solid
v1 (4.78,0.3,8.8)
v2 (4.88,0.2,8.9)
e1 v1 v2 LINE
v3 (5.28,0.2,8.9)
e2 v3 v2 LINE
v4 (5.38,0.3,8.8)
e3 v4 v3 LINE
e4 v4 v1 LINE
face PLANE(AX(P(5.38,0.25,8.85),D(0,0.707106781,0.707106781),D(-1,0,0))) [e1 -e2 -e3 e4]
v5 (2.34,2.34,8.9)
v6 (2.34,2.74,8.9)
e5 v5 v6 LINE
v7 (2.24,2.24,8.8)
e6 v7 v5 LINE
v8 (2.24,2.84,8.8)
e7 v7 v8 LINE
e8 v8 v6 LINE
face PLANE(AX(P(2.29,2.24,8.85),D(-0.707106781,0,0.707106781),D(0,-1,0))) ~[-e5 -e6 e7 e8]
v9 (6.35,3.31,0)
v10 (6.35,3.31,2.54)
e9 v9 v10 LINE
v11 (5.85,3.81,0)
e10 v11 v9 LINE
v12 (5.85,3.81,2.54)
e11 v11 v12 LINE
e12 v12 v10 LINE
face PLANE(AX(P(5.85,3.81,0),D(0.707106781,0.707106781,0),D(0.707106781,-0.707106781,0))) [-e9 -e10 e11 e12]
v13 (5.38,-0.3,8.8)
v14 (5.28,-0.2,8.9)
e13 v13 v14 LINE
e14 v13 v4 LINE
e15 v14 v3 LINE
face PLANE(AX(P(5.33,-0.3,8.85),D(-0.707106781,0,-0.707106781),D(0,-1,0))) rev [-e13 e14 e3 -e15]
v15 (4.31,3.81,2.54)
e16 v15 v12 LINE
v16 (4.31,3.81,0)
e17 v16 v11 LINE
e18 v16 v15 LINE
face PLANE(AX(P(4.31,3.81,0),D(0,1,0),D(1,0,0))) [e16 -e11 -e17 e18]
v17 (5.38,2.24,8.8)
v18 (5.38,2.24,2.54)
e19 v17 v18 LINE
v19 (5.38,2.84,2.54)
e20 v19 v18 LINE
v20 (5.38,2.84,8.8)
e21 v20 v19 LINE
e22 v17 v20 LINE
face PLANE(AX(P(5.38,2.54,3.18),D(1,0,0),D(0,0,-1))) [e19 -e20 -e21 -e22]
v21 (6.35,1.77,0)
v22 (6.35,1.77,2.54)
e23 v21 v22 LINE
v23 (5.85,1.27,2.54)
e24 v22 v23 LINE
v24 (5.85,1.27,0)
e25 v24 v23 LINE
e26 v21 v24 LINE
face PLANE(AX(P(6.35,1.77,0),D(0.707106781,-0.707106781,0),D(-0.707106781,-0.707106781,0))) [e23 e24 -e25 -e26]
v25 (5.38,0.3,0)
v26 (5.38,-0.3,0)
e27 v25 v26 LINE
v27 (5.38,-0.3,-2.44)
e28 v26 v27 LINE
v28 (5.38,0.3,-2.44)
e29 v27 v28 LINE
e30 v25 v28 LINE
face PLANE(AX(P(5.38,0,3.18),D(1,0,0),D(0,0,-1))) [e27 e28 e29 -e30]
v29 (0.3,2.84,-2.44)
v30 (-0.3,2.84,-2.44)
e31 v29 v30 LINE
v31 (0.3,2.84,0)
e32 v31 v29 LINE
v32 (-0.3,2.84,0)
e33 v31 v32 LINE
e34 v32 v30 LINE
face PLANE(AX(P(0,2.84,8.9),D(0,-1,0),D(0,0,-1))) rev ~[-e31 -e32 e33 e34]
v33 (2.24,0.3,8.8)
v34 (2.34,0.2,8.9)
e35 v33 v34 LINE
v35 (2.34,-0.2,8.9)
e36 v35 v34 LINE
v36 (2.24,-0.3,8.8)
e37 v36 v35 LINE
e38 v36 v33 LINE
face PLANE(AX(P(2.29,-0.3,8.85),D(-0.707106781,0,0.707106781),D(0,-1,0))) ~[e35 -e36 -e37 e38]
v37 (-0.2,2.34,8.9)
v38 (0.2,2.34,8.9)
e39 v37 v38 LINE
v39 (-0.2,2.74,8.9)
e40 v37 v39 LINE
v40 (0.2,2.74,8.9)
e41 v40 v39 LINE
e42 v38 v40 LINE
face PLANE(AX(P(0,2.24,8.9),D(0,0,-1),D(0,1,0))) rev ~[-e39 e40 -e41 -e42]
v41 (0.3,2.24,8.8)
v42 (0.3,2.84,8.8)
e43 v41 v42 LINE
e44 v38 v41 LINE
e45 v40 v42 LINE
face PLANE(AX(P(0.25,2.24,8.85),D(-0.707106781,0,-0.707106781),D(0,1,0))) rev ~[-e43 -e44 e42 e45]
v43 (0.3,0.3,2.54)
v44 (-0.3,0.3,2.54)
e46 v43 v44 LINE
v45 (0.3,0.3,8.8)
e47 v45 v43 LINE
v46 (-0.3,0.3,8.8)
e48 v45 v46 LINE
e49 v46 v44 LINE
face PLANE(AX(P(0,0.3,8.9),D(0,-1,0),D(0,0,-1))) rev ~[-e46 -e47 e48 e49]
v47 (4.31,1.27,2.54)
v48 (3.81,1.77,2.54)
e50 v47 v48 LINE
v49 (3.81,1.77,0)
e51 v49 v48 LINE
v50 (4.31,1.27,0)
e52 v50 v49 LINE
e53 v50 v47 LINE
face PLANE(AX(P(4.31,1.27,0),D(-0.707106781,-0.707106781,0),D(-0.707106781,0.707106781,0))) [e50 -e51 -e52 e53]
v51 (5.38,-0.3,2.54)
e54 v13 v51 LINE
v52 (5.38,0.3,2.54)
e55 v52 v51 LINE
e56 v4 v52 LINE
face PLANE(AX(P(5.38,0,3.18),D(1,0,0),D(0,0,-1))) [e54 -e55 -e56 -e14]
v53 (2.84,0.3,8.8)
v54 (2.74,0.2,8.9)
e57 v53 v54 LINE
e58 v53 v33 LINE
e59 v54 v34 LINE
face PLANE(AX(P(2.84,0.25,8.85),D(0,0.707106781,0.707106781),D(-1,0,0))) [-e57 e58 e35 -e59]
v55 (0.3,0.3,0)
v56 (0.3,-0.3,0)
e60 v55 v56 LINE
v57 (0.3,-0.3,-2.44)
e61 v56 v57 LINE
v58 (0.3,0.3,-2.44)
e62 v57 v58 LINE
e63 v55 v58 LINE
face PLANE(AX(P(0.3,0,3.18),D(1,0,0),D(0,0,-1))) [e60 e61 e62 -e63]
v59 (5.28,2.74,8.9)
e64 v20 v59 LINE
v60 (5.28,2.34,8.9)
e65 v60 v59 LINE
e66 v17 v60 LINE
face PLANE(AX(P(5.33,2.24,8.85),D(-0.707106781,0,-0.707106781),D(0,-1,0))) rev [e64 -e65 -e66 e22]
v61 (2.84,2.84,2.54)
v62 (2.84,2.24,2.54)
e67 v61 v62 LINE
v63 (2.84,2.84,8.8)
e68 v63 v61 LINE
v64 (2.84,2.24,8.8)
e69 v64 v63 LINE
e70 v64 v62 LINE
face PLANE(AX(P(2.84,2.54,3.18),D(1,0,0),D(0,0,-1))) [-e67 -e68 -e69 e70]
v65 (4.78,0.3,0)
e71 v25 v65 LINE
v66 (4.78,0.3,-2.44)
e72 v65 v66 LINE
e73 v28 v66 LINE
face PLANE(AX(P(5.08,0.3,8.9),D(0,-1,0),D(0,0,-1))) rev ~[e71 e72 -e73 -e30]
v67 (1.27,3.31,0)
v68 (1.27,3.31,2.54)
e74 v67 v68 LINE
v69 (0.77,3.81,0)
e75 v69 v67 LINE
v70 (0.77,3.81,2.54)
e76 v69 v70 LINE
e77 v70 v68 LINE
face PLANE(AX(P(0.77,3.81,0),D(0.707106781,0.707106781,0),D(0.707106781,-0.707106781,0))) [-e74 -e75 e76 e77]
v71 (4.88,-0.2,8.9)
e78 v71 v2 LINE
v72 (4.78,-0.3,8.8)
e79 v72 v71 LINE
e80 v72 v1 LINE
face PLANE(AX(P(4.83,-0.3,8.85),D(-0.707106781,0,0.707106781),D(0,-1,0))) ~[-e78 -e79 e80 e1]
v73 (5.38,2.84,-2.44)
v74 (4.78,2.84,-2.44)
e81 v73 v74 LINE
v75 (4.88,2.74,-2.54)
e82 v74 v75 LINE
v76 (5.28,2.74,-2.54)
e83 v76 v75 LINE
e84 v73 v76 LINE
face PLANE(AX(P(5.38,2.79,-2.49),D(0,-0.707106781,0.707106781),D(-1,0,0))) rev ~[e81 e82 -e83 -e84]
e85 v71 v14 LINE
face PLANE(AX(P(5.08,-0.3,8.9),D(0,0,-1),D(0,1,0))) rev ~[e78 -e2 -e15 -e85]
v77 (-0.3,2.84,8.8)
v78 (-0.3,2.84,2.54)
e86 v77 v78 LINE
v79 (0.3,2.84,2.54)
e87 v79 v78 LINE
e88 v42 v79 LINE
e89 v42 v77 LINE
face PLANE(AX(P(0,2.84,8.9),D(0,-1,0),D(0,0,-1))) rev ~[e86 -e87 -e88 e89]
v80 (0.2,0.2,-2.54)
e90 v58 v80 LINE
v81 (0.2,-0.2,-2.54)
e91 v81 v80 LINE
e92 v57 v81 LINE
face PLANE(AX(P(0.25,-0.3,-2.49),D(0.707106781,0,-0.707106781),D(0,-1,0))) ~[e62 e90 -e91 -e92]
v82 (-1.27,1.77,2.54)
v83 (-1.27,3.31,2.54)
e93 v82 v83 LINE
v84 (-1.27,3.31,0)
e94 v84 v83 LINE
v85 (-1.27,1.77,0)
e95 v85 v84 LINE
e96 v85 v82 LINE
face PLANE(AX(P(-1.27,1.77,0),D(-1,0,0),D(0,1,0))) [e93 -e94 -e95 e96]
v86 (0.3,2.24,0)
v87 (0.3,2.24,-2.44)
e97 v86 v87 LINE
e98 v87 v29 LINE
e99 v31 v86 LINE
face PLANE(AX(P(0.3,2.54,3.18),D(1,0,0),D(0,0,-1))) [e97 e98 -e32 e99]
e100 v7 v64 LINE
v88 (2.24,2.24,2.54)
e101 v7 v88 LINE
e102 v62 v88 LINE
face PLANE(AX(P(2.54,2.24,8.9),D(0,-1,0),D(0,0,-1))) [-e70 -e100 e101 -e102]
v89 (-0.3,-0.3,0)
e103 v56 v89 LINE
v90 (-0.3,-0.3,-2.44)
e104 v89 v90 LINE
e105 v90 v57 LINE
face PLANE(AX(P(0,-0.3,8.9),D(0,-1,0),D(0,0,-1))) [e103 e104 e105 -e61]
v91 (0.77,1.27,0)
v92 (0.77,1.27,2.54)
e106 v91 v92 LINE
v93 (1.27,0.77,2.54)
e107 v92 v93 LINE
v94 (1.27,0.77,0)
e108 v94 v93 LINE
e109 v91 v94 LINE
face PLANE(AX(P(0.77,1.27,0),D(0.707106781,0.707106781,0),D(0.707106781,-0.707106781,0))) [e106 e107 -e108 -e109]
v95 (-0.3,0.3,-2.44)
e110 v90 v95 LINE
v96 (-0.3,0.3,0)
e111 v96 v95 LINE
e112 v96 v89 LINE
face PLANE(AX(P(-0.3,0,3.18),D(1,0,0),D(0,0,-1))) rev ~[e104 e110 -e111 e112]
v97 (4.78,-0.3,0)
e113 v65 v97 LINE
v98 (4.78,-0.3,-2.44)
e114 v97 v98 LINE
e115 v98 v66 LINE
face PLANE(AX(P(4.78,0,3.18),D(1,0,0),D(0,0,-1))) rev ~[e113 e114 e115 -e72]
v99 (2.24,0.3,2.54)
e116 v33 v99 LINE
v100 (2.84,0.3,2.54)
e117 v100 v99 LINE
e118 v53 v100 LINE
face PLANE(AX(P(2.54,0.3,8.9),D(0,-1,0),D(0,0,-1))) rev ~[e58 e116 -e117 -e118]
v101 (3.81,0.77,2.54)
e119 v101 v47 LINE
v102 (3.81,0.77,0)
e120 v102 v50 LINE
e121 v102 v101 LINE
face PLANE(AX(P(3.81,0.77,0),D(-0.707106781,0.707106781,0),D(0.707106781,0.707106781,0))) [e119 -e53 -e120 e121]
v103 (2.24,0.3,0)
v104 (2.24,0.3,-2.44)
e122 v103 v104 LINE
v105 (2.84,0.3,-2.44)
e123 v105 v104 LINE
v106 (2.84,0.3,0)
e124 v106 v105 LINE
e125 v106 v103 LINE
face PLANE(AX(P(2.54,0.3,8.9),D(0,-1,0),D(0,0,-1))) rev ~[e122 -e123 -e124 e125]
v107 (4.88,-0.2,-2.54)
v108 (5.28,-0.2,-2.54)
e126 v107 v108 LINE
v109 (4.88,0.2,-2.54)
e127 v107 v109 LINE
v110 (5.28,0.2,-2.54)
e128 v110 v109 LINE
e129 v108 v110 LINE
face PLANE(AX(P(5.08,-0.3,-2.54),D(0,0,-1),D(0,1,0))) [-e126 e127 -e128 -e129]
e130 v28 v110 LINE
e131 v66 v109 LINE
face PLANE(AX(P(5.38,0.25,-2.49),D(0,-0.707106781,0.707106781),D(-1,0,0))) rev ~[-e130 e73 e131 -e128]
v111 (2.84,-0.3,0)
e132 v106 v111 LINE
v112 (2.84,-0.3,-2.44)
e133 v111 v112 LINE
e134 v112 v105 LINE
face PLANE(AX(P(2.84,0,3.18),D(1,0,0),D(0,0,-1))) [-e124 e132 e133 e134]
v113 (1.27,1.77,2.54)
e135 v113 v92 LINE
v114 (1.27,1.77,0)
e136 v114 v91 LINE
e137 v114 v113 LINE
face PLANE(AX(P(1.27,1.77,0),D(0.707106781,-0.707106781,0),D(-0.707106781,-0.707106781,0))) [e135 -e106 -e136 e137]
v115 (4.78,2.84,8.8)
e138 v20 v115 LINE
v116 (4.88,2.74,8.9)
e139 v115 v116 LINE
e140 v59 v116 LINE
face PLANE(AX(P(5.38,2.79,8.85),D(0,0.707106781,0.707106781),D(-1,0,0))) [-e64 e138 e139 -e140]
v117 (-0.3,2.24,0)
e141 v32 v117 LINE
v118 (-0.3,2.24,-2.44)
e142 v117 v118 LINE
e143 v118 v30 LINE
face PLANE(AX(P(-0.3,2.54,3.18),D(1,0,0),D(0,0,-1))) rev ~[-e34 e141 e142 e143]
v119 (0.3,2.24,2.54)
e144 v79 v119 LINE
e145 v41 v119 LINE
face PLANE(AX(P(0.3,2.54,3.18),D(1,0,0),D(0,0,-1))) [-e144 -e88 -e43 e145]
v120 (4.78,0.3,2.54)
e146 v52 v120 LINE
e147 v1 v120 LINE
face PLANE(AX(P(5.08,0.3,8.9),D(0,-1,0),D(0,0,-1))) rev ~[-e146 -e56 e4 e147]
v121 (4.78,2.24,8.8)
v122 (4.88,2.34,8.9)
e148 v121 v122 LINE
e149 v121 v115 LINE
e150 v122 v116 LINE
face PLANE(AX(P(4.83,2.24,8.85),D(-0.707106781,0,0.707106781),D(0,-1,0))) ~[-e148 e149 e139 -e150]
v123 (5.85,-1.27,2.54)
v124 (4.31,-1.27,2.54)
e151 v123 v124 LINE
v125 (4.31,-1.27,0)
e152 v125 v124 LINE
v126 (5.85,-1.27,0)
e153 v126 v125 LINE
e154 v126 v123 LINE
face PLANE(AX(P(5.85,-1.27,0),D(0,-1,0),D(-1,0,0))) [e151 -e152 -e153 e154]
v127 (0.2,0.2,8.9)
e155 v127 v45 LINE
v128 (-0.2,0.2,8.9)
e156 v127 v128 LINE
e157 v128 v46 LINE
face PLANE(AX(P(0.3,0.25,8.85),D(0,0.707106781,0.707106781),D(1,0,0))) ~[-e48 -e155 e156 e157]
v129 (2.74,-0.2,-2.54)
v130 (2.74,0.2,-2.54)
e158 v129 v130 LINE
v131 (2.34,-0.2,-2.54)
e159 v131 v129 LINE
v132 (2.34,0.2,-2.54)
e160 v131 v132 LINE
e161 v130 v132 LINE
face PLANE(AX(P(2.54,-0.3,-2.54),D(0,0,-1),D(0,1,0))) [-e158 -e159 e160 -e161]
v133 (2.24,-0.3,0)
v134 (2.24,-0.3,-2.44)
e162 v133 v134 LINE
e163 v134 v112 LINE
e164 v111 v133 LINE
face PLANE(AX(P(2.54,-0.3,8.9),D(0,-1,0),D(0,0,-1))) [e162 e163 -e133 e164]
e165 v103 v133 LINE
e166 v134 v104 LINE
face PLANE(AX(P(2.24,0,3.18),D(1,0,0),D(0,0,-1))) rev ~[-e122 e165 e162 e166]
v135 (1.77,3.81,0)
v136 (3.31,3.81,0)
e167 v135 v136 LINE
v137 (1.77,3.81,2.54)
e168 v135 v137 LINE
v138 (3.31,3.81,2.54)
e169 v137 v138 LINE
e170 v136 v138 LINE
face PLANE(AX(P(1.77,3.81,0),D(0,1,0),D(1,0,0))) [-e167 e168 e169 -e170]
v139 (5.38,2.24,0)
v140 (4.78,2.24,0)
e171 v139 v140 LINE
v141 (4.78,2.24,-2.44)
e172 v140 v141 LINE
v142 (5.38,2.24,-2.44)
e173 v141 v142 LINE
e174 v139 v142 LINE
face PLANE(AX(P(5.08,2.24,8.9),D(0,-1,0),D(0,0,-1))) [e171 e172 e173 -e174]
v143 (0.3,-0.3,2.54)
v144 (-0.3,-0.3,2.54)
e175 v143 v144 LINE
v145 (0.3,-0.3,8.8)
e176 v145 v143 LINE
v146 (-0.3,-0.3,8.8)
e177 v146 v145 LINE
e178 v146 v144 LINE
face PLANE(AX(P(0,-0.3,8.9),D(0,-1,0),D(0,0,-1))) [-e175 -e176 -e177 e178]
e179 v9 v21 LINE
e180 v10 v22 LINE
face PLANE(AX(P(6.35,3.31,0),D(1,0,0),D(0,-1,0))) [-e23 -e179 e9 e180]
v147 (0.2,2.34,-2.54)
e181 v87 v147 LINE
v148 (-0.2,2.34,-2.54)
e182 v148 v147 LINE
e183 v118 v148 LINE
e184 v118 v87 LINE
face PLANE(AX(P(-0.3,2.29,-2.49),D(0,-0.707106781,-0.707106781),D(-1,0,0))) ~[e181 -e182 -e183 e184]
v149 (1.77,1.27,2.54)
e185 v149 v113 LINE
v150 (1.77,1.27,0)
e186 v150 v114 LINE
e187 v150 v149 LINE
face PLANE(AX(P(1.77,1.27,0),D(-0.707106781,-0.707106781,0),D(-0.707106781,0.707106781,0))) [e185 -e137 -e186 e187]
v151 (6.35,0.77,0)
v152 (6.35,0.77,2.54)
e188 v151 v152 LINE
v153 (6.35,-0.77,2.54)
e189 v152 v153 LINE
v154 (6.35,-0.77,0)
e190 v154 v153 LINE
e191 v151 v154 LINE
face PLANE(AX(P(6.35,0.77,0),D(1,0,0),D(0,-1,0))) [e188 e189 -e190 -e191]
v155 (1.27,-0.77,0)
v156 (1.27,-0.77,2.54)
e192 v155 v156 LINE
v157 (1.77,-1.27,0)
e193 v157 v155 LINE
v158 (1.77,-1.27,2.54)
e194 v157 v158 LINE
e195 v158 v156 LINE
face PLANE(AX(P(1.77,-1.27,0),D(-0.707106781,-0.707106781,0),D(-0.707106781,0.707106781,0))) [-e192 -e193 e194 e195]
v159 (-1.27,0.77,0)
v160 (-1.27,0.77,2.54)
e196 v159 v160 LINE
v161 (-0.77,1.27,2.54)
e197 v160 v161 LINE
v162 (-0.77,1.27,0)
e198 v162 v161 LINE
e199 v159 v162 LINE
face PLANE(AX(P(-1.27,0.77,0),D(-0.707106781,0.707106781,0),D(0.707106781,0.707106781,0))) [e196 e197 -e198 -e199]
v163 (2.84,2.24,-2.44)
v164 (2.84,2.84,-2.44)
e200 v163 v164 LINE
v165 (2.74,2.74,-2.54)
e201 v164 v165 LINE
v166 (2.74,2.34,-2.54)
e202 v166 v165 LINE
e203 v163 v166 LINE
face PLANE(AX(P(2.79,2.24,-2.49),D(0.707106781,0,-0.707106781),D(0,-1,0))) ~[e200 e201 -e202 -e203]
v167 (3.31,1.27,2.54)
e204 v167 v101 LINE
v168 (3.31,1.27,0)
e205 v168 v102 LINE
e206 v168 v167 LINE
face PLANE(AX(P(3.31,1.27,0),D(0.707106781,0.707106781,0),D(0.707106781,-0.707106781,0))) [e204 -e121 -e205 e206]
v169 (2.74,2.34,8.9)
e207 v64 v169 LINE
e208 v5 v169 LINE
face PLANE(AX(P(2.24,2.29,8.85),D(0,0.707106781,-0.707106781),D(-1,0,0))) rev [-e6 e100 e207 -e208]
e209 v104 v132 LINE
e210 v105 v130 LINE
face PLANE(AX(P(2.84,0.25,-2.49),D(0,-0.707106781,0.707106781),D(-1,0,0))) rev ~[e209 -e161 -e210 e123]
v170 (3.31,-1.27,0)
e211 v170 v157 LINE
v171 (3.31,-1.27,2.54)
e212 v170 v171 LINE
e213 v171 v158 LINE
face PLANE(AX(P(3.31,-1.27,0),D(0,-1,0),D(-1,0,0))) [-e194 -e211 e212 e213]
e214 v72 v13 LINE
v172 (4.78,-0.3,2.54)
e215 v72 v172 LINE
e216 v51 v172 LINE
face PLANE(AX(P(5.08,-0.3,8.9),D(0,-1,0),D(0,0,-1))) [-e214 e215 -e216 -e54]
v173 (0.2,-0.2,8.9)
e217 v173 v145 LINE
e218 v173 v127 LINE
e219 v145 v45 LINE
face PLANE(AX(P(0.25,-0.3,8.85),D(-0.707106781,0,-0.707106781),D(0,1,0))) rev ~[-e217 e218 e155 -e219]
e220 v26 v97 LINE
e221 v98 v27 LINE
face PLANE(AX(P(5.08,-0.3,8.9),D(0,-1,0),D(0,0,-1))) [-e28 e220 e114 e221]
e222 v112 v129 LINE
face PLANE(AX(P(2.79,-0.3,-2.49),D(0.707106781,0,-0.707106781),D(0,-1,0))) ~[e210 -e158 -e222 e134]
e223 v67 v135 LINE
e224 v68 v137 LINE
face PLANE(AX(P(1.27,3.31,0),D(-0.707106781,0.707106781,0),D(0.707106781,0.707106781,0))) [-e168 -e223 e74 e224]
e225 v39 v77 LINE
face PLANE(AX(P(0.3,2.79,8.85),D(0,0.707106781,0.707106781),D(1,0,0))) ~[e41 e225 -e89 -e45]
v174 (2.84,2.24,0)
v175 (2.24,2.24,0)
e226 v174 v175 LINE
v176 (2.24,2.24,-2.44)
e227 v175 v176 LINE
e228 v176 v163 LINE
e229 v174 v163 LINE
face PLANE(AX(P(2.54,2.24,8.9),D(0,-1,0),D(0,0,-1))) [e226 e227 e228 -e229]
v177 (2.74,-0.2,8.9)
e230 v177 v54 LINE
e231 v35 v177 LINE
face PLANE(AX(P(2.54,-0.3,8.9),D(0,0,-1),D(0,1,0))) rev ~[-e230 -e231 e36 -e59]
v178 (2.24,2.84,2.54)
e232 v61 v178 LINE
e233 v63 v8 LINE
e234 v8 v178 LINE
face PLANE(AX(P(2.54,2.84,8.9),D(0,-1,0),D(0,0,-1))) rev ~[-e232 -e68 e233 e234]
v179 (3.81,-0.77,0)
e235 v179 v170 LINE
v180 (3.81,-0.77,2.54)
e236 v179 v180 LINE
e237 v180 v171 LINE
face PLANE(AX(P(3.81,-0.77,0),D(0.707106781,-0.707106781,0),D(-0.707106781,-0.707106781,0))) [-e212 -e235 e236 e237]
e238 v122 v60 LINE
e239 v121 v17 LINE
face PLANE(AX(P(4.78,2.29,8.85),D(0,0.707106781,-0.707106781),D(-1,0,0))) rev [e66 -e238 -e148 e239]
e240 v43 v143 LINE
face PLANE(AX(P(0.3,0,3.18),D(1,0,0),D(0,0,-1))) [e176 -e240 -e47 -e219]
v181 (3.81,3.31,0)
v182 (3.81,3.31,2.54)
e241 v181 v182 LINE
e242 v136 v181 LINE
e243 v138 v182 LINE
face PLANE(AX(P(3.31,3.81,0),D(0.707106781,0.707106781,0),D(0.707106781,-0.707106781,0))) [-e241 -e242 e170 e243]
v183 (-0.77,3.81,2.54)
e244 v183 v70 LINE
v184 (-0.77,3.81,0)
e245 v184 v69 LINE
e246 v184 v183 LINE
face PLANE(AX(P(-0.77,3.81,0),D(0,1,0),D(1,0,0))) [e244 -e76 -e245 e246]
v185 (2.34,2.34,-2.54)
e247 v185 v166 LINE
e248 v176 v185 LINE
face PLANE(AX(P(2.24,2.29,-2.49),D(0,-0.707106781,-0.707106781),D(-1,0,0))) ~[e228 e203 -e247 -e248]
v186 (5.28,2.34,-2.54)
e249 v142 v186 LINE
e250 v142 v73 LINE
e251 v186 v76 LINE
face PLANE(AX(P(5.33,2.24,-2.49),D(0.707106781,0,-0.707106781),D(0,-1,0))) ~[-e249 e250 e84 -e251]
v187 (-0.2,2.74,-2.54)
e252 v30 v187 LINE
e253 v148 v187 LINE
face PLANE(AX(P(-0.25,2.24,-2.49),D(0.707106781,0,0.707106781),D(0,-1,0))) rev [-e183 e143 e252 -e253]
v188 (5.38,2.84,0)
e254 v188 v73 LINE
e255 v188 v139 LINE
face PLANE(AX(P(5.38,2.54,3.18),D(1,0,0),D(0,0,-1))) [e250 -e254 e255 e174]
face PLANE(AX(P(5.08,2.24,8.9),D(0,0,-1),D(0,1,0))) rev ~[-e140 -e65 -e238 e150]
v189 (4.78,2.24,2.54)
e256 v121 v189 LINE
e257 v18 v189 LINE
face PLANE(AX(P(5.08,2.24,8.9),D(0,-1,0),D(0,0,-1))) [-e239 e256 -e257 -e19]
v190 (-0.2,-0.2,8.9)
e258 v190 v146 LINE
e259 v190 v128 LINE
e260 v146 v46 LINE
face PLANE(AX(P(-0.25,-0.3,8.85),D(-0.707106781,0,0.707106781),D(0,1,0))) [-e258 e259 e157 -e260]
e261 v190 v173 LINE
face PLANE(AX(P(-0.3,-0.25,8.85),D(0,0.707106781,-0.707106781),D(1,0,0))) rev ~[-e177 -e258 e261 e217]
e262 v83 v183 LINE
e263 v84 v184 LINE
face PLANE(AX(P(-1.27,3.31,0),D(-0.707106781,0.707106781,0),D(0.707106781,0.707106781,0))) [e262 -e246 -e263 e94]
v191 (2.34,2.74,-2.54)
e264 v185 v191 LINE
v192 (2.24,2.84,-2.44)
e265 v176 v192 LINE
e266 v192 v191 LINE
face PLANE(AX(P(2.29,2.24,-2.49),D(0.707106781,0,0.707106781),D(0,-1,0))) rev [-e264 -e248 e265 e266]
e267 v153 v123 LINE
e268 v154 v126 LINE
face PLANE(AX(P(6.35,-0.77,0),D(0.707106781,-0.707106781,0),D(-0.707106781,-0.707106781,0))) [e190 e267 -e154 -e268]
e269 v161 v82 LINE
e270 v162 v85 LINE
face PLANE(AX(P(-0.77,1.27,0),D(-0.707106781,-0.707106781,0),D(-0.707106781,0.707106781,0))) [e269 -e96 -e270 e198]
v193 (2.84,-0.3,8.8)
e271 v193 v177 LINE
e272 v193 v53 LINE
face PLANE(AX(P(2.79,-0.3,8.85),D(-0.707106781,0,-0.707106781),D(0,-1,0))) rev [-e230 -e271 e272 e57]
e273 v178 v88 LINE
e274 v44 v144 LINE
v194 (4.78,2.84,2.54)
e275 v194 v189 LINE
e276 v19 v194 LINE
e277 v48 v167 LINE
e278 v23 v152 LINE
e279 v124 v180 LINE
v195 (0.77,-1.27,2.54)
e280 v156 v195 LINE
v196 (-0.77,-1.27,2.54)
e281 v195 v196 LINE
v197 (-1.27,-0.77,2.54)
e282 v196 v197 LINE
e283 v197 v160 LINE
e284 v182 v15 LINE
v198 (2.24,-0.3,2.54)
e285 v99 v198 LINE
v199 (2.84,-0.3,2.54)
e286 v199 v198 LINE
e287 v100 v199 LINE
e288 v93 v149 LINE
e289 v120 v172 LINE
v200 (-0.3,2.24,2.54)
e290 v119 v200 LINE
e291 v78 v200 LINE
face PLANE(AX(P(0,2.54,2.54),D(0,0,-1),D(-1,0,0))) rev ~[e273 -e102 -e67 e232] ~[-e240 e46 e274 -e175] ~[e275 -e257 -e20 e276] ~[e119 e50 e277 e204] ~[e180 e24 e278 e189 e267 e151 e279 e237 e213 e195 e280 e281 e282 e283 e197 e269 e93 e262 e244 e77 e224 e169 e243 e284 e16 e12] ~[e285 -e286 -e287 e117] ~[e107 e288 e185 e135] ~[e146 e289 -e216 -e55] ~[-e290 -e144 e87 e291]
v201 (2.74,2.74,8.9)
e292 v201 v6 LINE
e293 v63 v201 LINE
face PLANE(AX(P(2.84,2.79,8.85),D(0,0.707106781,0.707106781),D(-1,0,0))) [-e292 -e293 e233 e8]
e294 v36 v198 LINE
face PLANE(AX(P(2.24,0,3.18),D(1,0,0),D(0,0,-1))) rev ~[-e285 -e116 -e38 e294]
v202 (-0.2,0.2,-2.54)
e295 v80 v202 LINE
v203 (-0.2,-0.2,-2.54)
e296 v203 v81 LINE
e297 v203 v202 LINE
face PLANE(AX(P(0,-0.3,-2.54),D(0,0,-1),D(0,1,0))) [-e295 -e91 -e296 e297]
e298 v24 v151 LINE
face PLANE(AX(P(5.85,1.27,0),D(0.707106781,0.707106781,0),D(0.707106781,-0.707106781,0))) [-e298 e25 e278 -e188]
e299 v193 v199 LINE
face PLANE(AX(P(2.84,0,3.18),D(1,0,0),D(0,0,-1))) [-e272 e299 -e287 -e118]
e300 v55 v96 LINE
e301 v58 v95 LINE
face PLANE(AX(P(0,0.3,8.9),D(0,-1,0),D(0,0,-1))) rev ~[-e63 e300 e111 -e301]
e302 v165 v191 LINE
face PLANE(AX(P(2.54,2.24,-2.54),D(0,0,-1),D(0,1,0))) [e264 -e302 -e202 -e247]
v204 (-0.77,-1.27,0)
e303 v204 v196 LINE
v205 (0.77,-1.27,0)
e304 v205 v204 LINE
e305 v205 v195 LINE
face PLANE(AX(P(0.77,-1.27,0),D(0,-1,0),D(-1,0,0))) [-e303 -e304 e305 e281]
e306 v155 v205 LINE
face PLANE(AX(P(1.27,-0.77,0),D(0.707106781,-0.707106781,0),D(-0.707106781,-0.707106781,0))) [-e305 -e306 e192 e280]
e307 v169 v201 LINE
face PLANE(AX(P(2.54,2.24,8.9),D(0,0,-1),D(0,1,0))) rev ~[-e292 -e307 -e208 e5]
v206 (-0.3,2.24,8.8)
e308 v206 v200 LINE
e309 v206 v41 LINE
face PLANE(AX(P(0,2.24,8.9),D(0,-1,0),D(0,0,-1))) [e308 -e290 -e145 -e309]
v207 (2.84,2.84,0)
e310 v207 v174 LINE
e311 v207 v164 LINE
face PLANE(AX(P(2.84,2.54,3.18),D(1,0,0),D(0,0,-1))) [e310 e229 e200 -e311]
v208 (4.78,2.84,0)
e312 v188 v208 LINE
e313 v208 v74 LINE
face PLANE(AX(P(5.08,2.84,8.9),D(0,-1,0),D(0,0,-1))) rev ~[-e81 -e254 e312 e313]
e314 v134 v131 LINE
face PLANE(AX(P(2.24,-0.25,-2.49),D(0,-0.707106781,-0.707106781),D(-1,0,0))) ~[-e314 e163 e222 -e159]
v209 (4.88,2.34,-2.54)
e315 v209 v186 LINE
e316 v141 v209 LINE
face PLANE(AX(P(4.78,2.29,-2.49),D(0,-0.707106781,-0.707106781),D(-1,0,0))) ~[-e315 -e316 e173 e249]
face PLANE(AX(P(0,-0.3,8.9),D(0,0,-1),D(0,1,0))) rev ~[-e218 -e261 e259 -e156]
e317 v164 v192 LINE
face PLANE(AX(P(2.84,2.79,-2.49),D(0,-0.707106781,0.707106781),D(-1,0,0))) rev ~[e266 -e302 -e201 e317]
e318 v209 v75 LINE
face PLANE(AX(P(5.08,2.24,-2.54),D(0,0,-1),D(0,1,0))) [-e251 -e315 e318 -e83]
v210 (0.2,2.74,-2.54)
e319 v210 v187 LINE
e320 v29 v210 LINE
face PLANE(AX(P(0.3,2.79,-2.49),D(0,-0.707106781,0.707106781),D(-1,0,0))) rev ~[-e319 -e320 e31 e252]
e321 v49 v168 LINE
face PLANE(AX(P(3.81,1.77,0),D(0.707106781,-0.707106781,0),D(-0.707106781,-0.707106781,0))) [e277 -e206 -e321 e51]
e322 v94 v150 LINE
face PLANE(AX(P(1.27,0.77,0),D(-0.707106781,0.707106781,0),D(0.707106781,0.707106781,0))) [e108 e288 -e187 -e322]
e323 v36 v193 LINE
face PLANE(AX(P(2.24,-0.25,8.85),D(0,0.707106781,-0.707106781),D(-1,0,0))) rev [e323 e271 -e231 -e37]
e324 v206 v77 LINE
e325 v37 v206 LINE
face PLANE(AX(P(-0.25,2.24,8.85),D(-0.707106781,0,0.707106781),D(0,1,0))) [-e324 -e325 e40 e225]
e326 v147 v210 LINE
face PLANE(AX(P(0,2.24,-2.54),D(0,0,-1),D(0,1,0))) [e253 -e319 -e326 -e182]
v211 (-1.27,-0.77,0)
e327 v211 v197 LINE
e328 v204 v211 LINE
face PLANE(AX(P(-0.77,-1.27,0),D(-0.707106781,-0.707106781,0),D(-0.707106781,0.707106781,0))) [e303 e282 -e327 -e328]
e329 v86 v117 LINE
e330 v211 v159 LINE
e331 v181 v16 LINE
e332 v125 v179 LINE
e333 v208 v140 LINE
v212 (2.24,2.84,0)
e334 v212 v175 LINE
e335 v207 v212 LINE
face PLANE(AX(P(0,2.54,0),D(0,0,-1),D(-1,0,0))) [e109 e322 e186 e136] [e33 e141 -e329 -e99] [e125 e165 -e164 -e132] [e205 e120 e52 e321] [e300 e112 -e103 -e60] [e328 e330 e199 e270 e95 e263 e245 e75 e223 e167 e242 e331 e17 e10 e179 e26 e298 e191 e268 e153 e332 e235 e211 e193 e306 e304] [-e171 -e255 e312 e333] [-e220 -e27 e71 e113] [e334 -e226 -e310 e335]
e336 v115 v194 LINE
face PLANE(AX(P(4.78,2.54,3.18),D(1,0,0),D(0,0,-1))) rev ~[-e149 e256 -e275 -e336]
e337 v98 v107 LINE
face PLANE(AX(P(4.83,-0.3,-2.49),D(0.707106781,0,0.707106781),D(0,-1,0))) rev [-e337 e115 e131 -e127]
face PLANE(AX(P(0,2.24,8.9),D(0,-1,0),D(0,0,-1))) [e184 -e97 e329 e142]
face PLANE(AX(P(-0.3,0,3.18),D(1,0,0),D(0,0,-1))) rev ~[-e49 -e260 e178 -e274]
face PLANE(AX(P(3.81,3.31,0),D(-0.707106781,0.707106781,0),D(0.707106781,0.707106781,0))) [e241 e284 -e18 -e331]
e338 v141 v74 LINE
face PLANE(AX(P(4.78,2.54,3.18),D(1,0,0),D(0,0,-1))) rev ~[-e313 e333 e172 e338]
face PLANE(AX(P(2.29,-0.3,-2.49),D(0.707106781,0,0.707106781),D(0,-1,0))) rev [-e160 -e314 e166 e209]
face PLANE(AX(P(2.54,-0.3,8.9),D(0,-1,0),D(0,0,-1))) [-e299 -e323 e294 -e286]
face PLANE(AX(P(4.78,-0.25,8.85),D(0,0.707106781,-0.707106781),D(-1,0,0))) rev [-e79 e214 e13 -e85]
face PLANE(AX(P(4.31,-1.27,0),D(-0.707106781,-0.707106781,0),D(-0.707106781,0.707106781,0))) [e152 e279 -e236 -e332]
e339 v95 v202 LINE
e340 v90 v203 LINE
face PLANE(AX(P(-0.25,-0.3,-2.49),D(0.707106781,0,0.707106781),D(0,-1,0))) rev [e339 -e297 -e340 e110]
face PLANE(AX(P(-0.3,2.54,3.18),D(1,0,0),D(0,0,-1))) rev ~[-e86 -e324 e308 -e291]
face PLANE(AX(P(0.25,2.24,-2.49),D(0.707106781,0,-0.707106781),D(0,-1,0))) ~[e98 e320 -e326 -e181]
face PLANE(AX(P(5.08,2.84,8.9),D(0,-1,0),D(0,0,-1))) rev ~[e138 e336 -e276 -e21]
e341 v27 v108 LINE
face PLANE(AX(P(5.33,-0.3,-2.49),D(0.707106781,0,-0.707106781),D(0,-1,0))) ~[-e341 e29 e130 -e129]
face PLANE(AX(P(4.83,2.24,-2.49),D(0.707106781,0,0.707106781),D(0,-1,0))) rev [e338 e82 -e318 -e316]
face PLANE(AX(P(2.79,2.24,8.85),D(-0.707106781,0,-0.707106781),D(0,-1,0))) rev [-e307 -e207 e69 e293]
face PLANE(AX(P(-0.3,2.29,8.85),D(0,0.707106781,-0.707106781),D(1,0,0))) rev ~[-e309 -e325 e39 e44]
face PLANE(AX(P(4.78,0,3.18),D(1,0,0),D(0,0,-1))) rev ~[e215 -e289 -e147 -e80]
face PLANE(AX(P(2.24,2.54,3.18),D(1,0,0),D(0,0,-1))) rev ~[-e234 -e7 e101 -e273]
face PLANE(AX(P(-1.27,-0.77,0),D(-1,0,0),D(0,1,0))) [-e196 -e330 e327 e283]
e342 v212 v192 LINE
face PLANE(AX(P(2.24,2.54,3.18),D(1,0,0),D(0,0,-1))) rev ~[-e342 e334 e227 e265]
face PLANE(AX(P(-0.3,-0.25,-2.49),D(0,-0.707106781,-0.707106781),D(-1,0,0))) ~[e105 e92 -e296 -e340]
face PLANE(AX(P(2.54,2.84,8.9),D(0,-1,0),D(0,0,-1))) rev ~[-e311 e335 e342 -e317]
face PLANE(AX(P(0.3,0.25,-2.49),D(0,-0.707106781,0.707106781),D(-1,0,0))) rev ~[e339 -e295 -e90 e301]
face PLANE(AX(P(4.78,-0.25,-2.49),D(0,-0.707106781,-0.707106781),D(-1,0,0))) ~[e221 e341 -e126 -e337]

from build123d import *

# Parameters (mm, degrees)
PLASTIC_DEPTH                     = 2.54
SKETCH2_W                         = 11.44
SKETCH2_H                         = 0.6
CONTACT_DEPTH                     = 0.3
CHAMFER1_SIZE                     = 0.1
PATTERN_LINEAR_1_COUNT            = 3
PATTERN_LINEAR_1_PITCH            = 2.54
PATTERN_LINEAR_1_COUNT_DIR2       = 2
PATTERN_LINEAR_1_PITCH_DIR2       = 2.54
CHAMFER1_OF_PATTERN_LINEAR_1_SIZE = 0.1


with BuildPart() as part:
    # Sketch1 → Plastic (new body)
    with BuildSketch(Plane.XY):
        Polygon((-0.77, 1.27), (0.77, 1.27), (1.27, 0.77), (1.27, -0.77), (0.77, -1.27), (-0.77, -1.27), (-1.27, -0.77), (-1.27, 0.77), align=None)
    plastic = extrude(amount=PLASTIC_DEPTH)

    # Sketch2 → Contact (add, symmetric)
    with BuildSketch(Plane(origin=(0, 0, 0), x_dir=(0, 0, -1), z_dir=(1, 0, 0))):
        with Locations((-3.18, 0)):
            Rectangle(SKETCH2_W, SKETCH2_H)
    contact = extrude(amount=CONTACT_DEPTH, both=True)

    # Chamfer1
    chamfer1_edges = [part.edges().sort_by_distance(p)[0] for p in [
        (0, -0.3, 8.9),
        (0.3, 0, 8.9),
        (-0.3, 0, -2.54),
        (0, -0.3, -2.54),
        (0, 0.3, -2.54),
        (-0.3, 0, 8.9),
        (0, 0.3, 8.9),
        (0.3, 0, -2.54),
    ]]
    chamfer(chamfer1_edges, length=CHAMFER1_SIZE)

    # Линейный массив1: Plastic, Contact 3 × 2
    with Locations(*[(i * PATTERN_LINEAR_1_PITCH, j * PATTERN_LINEAR_1_PITCH_DIR2, 0) for i in range(PATTERN_LINEAR_1_COUNT) for j in range(PATTERN_LINEAR_1_COUNT_DIR2) if (i, j) != (0, 0)]):
        add(plastic)
        add(contact)

    # Chamfer1 of Линейный массив1
    chamfer1_of_pattern_linear_1_edges = [part.edges().sort_by_distance(p)[0] for p in [
        (0, 2.24, 8.9),
        (0.3, 2.54, 8.9),
        (-0.3, 2.54, -2.54),
        (0, 2.24, -2.54),
        (0, 2.84, -2.54),
        (-0.3, 2.54, 8.9),
        (0, 2.84, 8.9),
        (0.3, 2.54, -2.54),
        (2.54, -0.3, 8.9),
        (2.84, 0, 8.9),
        (2.24, 0, -2.54),
        (2.54, -0.3, -2.54),
        (2.54, 0.3, -2.54),
        (2.24, 0, 8.9),
        (2.54, 0.3, 8.9),
        (2.84, 0, -2.54),
        (2.54, 2.24, 8.9),
        (2.84, 2.54, 8.9),
        (2.24, 2.54, -2.54),
        (2.54, 2.24, -2.54),
        (2.54, 2.84, -2.54),
        (2.24, 2.54, 8.9),
        (2.54, 2.84, 8.9),
        (2.84, 2.54, -2.54),
        (5.08, -0.3, 8.9),
        (5.38, 0, 8.9),
        (4.78, 0, -2.54),
        (5.08, -0.3, -2.54),
        (5.08, 0.3, -2.54),
        (4.78, 0, 8.9),
        (5.08, 0.3, 8.9),
        (5.38, 0, -2.54),
        (5.08, 2.24, 8.9),
        (5.38, 2.54, 8.9),
        (4.78, 2.54, -2.54),
        (5.08, 2.24, -2.54),
        (5.08, 2.84, -2.54),
        (4.78, 2.54, 8.9),
        (5.08, 2.84, 8.9),
        (5.38, 2.54, -2.54),
    ]]
    chamfer(chamfer1_of_pattern_linear_1_edges, length=CHAMFER1_OF_PATTERN_LINEAR_1_SIZE)


solid = part.part
